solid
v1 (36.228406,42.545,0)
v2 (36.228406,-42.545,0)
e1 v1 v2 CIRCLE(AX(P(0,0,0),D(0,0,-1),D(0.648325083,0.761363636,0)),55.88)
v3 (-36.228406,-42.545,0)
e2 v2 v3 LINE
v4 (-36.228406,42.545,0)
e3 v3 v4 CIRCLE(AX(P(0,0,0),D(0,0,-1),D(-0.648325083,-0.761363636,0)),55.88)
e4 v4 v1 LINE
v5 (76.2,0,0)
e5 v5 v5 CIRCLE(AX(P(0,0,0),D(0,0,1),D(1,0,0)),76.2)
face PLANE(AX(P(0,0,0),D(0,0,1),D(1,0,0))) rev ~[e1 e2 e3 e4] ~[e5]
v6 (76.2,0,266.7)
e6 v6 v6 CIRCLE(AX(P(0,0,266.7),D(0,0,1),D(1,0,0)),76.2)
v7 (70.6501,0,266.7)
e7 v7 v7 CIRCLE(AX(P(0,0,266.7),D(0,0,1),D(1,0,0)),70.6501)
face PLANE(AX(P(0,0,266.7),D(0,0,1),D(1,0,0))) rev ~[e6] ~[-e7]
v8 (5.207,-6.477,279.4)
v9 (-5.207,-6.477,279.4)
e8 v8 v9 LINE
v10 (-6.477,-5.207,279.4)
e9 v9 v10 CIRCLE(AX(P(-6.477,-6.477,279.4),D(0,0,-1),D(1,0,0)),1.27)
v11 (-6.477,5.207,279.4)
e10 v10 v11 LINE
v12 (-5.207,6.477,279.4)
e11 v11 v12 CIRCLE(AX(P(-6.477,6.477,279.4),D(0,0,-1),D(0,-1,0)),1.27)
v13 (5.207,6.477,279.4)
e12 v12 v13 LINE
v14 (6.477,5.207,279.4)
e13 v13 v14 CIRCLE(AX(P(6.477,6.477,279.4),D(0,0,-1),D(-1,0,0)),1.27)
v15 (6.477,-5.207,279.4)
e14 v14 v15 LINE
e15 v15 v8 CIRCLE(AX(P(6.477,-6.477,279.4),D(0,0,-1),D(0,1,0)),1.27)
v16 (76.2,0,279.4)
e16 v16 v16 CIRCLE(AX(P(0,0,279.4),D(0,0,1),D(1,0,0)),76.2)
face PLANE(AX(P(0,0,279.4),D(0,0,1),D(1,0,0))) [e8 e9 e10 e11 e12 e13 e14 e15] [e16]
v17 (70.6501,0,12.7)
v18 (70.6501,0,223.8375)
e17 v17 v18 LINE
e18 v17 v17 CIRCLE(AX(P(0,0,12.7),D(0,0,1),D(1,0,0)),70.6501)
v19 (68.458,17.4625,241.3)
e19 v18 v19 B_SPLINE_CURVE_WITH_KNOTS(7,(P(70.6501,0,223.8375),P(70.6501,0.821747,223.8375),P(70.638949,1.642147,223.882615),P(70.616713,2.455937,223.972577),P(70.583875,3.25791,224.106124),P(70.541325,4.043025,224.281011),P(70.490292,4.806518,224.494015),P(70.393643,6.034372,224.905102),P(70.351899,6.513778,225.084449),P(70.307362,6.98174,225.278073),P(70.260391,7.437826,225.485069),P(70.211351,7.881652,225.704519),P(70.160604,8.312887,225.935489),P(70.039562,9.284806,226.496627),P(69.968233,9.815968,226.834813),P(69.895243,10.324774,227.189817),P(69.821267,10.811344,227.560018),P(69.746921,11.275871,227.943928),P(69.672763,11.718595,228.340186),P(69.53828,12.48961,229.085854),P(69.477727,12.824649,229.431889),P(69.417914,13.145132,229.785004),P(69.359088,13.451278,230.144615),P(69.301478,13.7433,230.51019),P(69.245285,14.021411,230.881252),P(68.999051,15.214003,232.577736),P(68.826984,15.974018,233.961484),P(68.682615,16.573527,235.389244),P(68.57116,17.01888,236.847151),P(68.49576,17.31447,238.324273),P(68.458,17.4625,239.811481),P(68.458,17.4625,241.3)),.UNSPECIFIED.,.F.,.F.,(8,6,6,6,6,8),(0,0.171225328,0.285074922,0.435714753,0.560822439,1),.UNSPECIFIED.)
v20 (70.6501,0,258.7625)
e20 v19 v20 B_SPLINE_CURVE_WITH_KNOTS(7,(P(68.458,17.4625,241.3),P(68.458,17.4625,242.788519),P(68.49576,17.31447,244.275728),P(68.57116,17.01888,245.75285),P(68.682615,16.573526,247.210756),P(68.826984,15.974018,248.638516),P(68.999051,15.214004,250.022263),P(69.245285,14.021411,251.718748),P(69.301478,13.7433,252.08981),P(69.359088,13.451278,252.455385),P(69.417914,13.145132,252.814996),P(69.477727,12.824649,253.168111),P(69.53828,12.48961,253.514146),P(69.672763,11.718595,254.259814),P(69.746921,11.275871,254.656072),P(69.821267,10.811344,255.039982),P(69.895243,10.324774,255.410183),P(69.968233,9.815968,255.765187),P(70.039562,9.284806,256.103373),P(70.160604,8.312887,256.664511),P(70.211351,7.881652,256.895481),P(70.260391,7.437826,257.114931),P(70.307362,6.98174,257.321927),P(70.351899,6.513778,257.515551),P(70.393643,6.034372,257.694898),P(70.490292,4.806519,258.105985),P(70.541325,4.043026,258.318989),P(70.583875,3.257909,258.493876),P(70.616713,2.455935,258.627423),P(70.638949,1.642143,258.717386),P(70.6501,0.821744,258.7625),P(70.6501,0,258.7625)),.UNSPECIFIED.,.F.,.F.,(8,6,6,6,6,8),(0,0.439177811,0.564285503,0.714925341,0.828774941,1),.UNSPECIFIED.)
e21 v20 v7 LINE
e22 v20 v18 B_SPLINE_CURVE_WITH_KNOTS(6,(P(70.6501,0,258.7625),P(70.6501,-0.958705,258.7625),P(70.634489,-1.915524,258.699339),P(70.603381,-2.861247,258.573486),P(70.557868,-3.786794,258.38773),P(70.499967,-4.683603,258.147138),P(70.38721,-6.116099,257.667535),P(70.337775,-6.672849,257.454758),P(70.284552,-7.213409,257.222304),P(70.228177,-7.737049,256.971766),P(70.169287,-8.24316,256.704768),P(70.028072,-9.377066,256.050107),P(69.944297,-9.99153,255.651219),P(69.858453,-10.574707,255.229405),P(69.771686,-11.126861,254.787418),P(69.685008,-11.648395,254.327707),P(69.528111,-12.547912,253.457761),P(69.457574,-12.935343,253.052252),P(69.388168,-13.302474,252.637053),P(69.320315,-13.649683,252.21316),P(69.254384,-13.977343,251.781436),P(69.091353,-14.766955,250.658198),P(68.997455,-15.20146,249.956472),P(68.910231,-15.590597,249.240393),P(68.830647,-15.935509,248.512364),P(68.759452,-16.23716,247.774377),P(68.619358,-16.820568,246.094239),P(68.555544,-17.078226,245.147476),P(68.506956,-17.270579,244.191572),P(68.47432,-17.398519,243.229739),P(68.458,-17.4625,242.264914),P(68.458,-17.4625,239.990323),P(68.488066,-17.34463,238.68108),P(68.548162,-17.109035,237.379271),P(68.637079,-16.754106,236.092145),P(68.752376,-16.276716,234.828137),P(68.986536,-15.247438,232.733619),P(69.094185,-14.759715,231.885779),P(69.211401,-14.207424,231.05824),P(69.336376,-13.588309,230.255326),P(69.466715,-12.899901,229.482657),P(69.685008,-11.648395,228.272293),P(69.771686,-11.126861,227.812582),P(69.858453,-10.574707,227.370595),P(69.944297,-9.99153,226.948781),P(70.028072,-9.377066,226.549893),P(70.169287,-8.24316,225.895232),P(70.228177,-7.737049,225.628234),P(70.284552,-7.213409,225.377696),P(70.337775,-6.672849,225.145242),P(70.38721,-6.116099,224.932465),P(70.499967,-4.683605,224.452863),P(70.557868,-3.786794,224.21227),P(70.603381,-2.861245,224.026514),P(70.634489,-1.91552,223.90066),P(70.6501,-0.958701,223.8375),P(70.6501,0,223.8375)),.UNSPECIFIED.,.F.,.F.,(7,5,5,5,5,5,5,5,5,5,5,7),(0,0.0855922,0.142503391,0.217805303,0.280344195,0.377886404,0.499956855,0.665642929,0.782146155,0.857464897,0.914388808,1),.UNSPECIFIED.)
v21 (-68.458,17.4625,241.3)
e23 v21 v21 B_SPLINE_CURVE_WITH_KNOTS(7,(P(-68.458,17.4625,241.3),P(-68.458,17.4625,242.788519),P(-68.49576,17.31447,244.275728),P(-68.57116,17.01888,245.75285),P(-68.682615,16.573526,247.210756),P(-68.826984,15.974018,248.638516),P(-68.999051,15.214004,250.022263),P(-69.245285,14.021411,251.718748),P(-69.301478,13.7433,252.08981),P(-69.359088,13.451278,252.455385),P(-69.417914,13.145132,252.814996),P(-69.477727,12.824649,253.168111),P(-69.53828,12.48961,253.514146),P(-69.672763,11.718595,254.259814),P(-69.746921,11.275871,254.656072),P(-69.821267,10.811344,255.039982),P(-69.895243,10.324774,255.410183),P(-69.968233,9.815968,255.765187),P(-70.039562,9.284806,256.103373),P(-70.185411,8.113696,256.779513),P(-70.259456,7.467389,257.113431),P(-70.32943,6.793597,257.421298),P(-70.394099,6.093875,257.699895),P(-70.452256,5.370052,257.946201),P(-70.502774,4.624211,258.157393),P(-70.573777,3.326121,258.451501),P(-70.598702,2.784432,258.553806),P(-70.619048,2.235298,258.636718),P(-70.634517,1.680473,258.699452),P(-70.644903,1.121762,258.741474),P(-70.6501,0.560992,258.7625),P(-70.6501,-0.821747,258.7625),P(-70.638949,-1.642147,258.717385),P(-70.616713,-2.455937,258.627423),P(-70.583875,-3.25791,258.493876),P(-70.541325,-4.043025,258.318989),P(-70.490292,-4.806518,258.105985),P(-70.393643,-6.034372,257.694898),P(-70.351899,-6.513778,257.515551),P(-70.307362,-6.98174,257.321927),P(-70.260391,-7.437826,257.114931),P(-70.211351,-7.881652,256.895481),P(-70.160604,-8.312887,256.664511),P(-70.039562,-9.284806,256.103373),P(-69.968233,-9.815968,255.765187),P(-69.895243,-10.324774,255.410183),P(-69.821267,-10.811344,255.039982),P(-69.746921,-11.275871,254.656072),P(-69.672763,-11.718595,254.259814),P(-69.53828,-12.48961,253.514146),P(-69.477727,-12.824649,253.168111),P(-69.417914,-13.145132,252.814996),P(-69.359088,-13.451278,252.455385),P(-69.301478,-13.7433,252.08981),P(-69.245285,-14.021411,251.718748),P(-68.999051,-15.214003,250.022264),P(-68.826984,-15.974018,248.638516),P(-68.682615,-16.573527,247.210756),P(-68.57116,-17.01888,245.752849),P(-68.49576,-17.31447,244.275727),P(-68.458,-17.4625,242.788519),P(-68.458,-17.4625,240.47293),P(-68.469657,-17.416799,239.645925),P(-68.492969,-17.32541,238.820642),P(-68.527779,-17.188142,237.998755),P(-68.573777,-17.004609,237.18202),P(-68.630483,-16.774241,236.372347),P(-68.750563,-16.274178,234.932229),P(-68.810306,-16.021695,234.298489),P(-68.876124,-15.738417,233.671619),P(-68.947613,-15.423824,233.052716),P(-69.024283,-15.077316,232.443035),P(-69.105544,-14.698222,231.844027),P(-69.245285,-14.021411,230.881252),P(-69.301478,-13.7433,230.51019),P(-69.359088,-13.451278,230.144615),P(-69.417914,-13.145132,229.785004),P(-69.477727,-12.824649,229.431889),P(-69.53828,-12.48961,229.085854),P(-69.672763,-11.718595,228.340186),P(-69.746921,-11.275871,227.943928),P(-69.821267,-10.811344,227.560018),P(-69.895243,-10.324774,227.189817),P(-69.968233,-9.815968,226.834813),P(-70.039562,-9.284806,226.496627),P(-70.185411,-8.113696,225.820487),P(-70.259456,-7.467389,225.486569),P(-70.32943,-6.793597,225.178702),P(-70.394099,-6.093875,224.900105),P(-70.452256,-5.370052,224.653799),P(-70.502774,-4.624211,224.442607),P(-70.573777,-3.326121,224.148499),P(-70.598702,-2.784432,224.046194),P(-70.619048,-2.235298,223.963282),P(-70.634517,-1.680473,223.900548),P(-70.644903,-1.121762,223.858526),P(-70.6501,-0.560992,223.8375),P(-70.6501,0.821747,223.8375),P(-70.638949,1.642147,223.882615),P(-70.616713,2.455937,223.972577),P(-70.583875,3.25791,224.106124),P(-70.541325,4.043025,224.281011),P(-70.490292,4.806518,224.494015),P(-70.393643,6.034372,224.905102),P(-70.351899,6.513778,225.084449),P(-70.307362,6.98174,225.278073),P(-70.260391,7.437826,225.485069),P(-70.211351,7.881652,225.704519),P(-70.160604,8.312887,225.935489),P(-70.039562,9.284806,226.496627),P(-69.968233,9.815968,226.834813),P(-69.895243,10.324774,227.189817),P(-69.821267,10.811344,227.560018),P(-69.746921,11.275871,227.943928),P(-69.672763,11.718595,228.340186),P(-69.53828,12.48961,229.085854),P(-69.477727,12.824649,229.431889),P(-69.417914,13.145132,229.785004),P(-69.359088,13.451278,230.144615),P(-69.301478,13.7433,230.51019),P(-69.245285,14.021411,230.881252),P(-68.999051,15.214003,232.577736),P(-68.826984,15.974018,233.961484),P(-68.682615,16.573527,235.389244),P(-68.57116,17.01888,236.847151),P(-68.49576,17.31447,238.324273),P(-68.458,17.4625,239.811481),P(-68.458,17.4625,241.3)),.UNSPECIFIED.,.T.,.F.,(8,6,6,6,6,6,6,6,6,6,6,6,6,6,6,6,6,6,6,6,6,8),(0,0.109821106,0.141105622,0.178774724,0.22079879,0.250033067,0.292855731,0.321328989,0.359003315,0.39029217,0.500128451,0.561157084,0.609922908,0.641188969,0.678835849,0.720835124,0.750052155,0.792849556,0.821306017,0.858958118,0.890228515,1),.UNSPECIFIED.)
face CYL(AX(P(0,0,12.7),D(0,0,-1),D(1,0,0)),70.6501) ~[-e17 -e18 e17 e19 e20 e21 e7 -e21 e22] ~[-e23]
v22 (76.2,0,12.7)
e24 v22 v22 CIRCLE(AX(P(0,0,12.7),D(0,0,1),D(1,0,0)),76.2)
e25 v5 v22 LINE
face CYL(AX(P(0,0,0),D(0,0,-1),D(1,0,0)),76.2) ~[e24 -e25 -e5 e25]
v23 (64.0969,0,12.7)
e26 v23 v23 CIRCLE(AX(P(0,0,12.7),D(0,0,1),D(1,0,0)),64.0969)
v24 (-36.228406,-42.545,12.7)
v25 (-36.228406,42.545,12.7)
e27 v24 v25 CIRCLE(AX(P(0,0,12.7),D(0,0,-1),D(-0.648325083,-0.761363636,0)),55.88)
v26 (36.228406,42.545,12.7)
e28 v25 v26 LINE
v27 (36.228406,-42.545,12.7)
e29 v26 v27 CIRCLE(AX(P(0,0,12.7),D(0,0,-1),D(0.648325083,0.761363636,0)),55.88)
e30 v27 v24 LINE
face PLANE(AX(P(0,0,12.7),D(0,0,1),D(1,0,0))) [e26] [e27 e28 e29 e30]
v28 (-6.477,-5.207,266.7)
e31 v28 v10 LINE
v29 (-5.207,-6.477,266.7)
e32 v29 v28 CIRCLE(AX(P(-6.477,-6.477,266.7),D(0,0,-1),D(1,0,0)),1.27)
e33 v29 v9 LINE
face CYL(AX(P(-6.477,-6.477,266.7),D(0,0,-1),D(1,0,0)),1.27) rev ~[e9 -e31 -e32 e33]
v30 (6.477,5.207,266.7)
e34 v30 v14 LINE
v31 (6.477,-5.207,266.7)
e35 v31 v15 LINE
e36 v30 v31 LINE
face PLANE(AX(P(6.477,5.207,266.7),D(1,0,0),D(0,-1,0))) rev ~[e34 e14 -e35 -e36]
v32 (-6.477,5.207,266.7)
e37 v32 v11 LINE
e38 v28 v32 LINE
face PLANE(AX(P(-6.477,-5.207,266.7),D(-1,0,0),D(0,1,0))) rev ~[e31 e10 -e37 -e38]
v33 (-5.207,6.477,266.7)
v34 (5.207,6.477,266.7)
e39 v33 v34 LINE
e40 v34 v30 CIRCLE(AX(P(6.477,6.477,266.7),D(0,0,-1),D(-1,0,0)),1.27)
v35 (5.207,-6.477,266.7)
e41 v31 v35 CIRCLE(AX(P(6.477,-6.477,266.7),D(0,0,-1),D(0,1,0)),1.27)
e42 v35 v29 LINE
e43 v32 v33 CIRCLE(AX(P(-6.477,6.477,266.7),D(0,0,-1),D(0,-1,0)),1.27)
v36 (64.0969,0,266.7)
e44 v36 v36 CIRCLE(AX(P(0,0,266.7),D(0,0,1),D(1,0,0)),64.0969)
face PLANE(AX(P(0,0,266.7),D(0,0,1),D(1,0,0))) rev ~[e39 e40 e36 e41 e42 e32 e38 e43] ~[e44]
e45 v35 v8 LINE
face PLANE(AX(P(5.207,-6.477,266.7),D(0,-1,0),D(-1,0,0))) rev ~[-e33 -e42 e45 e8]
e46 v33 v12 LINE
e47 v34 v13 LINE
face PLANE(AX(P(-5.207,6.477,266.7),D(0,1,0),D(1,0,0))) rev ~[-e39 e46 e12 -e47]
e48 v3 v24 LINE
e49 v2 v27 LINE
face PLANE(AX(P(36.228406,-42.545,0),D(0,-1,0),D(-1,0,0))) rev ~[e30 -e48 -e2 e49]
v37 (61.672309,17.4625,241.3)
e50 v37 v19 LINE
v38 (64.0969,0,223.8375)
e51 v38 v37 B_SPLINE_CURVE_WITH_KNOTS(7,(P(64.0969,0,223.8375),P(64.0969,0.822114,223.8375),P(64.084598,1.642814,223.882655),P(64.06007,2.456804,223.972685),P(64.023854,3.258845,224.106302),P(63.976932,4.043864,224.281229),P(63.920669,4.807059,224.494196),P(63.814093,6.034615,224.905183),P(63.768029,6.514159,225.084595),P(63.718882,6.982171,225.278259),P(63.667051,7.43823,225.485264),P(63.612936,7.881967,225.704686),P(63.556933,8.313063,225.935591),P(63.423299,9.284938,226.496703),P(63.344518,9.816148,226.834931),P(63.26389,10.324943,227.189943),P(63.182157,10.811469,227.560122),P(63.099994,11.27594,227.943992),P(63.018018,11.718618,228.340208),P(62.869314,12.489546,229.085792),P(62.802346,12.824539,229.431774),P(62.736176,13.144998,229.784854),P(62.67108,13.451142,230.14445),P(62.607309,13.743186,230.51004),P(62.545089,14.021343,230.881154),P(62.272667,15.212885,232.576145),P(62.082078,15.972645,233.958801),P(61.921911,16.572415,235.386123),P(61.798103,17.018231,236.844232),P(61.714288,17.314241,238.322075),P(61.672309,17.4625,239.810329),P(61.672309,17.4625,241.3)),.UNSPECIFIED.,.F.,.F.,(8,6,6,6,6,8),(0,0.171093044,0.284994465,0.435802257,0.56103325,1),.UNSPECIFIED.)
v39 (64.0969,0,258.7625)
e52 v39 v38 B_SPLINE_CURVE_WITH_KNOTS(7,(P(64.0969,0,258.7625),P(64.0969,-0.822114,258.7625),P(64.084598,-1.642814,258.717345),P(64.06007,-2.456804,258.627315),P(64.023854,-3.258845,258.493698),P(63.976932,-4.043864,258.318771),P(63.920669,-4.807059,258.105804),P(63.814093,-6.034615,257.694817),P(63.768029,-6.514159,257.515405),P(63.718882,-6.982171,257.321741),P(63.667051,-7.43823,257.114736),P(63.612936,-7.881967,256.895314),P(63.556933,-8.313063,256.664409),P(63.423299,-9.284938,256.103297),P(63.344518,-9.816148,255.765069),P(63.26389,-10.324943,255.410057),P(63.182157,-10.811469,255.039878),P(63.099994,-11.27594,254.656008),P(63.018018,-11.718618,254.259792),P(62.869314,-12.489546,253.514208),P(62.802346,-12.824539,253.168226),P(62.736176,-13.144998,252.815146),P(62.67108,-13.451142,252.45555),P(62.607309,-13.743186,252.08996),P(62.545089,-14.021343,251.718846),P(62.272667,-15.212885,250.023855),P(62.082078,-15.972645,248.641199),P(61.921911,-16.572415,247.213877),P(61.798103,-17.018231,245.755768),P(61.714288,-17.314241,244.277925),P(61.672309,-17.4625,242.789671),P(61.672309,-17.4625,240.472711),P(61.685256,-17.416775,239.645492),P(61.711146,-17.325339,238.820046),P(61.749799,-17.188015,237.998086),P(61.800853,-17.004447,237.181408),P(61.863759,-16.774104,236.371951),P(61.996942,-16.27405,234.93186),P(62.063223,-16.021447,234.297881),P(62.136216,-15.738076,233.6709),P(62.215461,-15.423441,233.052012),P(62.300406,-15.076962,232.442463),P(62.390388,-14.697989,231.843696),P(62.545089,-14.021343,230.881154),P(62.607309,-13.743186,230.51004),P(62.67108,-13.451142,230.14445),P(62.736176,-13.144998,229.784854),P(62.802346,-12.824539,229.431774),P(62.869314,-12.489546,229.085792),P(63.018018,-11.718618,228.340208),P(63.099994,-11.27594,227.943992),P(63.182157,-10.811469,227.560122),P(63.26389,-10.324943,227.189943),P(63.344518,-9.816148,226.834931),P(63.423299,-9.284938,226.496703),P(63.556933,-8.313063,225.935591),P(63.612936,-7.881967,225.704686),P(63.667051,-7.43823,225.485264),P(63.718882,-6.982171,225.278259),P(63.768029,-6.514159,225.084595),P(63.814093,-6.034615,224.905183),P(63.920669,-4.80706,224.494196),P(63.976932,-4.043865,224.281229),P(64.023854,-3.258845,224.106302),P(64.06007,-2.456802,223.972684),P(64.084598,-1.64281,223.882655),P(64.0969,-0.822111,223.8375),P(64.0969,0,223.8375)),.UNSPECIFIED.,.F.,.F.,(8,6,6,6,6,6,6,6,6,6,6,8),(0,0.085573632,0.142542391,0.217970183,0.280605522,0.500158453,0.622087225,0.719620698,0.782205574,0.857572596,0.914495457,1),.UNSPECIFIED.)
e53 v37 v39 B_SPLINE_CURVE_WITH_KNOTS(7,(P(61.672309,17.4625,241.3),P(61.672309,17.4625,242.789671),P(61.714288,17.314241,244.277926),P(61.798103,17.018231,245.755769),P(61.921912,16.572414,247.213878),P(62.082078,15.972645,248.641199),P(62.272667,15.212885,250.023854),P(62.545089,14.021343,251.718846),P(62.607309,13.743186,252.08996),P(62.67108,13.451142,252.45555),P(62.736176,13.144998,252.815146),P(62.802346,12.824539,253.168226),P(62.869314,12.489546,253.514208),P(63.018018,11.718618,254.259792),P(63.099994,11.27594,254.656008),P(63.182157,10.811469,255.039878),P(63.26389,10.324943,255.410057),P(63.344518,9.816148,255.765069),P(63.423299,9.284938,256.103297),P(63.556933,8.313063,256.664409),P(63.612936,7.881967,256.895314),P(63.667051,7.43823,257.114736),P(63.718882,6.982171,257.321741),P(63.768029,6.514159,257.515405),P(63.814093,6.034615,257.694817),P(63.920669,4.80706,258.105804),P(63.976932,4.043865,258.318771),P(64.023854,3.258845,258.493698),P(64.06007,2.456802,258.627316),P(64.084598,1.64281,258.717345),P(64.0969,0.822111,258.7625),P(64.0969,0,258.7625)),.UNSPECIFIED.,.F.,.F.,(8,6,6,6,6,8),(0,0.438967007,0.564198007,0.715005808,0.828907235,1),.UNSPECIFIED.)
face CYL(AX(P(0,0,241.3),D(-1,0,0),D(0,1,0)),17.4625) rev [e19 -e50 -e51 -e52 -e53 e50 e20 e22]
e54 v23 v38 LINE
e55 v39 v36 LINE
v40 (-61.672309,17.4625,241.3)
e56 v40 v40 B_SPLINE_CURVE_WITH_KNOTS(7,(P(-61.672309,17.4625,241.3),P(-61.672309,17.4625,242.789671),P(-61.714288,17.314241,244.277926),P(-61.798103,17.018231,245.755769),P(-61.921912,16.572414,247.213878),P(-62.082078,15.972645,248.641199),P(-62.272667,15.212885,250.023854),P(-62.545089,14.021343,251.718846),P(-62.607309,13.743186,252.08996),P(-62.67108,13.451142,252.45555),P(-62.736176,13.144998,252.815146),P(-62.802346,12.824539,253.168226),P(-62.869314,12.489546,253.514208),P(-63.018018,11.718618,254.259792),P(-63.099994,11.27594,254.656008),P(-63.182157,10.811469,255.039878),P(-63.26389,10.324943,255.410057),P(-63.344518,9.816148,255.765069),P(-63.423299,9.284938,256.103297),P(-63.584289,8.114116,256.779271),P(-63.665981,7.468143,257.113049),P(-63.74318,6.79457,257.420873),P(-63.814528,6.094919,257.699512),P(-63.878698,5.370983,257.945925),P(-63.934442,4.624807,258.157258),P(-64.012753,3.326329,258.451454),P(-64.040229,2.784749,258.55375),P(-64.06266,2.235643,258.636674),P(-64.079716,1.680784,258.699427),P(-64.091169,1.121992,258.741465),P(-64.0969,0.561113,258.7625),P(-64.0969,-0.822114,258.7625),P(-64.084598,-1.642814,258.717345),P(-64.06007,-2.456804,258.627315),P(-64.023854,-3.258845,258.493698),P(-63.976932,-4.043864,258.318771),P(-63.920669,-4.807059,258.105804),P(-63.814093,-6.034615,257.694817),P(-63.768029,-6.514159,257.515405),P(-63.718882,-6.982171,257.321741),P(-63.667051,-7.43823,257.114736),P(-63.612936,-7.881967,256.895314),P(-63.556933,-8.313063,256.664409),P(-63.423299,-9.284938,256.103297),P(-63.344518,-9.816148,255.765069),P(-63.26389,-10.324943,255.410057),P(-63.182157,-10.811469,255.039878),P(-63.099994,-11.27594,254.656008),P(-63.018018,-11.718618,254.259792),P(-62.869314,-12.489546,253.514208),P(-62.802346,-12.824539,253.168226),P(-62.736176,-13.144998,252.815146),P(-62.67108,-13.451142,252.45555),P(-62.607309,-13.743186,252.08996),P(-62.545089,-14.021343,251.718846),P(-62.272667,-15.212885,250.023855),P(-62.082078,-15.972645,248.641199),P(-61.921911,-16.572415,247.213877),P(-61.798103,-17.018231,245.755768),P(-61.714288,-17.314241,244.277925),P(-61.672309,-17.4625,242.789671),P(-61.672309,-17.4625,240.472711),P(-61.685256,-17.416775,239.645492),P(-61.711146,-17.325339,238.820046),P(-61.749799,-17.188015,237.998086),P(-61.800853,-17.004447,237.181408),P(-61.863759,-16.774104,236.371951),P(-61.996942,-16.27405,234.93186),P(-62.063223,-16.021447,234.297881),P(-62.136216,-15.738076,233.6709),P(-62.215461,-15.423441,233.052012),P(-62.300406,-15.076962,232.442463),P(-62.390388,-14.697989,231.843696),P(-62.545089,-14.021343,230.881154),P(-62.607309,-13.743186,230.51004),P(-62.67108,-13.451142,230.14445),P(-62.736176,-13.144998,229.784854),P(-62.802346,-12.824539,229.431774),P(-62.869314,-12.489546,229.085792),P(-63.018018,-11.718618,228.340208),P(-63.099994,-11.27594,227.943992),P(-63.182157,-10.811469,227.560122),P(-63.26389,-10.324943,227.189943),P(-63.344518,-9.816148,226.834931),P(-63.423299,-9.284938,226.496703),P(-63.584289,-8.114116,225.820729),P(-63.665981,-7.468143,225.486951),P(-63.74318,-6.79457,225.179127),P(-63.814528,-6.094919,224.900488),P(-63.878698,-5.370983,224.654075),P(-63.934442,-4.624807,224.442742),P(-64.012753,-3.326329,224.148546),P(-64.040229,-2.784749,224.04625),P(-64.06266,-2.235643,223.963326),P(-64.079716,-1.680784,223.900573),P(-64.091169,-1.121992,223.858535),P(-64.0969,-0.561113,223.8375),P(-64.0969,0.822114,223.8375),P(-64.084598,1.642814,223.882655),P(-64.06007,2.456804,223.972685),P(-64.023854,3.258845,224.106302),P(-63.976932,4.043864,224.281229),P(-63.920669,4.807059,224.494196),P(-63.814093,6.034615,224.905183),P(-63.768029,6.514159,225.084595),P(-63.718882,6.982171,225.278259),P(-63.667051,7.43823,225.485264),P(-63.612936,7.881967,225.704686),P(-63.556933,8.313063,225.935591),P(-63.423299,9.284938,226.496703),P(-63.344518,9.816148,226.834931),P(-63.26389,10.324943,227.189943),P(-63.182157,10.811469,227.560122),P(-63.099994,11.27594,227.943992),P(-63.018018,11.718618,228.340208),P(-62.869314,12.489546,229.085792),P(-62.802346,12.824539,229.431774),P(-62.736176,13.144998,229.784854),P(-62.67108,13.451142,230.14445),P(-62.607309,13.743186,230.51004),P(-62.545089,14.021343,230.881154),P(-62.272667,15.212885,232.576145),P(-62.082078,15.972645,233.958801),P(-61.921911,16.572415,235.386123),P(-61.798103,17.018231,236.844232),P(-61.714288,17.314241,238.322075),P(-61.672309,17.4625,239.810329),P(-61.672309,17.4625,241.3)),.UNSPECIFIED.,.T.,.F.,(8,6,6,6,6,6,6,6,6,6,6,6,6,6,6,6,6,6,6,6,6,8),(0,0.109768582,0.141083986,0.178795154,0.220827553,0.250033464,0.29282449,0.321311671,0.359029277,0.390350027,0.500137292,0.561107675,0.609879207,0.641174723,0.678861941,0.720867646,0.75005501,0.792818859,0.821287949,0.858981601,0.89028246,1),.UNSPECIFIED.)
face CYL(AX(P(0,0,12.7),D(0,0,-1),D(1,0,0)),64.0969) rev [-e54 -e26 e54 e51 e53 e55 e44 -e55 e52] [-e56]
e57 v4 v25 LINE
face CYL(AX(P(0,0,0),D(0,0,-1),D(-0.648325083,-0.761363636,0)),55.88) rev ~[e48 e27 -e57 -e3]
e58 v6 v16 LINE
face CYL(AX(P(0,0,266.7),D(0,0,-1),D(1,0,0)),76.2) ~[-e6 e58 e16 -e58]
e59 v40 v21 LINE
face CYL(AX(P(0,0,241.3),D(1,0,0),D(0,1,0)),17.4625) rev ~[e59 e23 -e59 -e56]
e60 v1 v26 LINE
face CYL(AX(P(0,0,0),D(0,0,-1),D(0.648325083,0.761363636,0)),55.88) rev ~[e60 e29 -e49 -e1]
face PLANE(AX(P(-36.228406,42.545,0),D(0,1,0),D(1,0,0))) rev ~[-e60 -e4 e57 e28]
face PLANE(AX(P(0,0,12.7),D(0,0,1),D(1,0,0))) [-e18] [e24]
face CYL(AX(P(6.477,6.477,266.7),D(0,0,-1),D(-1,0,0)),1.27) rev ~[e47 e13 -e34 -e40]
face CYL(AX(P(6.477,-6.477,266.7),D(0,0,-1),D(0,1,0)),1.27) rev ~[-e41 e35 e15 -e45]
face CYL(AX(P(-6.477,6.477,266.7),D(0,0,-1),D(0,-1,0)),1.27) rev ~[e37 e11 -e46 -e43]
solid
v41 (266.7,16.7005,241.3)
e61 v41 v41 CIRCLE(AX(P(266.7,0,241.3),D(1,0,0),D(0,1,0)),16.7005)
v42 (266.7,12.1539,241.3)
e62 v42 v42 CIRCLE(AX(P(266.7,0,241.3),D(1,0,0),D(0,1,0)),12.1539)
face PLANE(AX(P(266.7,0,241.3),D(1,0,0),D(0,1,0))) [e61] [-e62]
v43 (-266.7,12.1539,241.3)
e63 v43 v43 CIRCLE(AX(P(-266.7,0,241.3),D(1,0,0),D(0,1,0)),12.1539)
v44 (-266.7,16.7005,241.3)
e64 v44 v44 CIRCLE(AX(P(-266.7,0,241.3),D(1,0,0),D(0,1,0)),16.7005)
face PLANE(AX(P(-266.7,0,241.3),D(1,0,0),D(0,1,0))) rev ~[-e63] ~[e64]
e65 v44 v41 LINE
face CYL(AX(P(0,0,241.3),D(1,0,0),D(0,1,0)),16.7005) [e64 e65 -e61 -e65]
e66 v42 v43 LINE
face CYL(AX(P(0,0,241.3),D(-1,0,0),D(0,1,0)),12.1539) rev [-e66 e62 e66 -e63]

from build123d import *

# Parameters (mm, degrees)
F0_R          = 76.2
F1_DEPTH      = 12.7
F2_R          = 70.6501
F2_R_2        = 64.0969
F3_DEPTH      = 254
F4_R          = 76.2
F5_DEPTH      = 12.7
F6_R          = 17.4625
F7_DEPTH      = 76.201
F7_DEPTH_BACK = 76.201
F8_R          = 16.7005
F8_R_2        = 12.1539
F9_DEPTH      = 266.7


with BuildPart() as f1:
    # F0 (on Top) → F1 (new body)
    with BuildSketch(Plane.XY):
        Circle(F0_R)
        with BuildLine():
            Line((-36.228405637, 42.545), (36.228405637, 42.545))
            ThreePointArc((36.228405637, 42.545), (55.88, 0), (36.228405637, -42.545))
            Line((36.228405637, -42.545), (-36.228405637, -42.545))
            ThreePointArc((-36.228405637, -42.545), (-55.88, 0), (-36.228405637, 42.545))
        make_face(mode=Mode.SUBTRACT)
    extrude(amount=F1_DEPTH)

    # F2 (on face) → F3 (join)
    with BuildSketch(Plane.XY.offset(12.7)):
        Circle(F2_R)
        Circle(F2_R_2, mode=Mode.SUBTRACT)
    extrude(amount=F3_DEPTH)

    # F4 (on face) → F5 (join)
    with BuildSketch(Plane.XY.offset(266.7)):
        Circle(F4_R)
        with BuildLine():
            Line((-5.207, 6.477), (5.207, 6.477))
            ThreePointArc((5.207, 6.477), (7.3750256121, 7.3750256121), (6.477, 5.207))
            Line((6.477, 5.207), (6.477, -5.207))
            ThreePointArc((6.477, -5.207), (7.3750256121, -7.3750256121), (5.207, -6.477))
            Line((5.207, -6.477), (-5.207, -6.477))
            ThreePointArc((-5.207, -6.477), (-7.3750256121, -7.3750256121), (-6.477, -5.207))
            Line((-6.477, -5.207), (-6.477, 5.207))
            ThreePointArc((-6.477, 5.207), (-7.3750256121, 7.3750256121), (-5.207, 6.477))
        make_face(mode=Mode.SUBTRACT)
    extrude(amount=F5_DEPTH)

    # F6 (on Right) → F7 (cut, two sides)
    with BuildSketch(Plane.YZ) as f7_sk:
        with Locations((0, 241.3)):
            Circle(F6_R)
    extrude(amount=-F7_DEPTH, mode=Mode.SUBTRACT)
    extrude(f7_sk.sketch, amount=F7_DEPTH_BACK, mode=Mode.SUBTRACT)


with BuildPart() as f9:
    # F8 (on Right) → F9 (new body, symmetric)
    with BuildSketch(Plane.YZ):
        with Locations((0, 241.3)):
            Circle(F8_R)
        with Locations((0, 241.3)):
            Circle(F8_R_2, mode=Mode.SUBTRACT)
    extrude(amount=F9_DEPTH, both=True)


solid = Compound([f1.part, f9.part])
